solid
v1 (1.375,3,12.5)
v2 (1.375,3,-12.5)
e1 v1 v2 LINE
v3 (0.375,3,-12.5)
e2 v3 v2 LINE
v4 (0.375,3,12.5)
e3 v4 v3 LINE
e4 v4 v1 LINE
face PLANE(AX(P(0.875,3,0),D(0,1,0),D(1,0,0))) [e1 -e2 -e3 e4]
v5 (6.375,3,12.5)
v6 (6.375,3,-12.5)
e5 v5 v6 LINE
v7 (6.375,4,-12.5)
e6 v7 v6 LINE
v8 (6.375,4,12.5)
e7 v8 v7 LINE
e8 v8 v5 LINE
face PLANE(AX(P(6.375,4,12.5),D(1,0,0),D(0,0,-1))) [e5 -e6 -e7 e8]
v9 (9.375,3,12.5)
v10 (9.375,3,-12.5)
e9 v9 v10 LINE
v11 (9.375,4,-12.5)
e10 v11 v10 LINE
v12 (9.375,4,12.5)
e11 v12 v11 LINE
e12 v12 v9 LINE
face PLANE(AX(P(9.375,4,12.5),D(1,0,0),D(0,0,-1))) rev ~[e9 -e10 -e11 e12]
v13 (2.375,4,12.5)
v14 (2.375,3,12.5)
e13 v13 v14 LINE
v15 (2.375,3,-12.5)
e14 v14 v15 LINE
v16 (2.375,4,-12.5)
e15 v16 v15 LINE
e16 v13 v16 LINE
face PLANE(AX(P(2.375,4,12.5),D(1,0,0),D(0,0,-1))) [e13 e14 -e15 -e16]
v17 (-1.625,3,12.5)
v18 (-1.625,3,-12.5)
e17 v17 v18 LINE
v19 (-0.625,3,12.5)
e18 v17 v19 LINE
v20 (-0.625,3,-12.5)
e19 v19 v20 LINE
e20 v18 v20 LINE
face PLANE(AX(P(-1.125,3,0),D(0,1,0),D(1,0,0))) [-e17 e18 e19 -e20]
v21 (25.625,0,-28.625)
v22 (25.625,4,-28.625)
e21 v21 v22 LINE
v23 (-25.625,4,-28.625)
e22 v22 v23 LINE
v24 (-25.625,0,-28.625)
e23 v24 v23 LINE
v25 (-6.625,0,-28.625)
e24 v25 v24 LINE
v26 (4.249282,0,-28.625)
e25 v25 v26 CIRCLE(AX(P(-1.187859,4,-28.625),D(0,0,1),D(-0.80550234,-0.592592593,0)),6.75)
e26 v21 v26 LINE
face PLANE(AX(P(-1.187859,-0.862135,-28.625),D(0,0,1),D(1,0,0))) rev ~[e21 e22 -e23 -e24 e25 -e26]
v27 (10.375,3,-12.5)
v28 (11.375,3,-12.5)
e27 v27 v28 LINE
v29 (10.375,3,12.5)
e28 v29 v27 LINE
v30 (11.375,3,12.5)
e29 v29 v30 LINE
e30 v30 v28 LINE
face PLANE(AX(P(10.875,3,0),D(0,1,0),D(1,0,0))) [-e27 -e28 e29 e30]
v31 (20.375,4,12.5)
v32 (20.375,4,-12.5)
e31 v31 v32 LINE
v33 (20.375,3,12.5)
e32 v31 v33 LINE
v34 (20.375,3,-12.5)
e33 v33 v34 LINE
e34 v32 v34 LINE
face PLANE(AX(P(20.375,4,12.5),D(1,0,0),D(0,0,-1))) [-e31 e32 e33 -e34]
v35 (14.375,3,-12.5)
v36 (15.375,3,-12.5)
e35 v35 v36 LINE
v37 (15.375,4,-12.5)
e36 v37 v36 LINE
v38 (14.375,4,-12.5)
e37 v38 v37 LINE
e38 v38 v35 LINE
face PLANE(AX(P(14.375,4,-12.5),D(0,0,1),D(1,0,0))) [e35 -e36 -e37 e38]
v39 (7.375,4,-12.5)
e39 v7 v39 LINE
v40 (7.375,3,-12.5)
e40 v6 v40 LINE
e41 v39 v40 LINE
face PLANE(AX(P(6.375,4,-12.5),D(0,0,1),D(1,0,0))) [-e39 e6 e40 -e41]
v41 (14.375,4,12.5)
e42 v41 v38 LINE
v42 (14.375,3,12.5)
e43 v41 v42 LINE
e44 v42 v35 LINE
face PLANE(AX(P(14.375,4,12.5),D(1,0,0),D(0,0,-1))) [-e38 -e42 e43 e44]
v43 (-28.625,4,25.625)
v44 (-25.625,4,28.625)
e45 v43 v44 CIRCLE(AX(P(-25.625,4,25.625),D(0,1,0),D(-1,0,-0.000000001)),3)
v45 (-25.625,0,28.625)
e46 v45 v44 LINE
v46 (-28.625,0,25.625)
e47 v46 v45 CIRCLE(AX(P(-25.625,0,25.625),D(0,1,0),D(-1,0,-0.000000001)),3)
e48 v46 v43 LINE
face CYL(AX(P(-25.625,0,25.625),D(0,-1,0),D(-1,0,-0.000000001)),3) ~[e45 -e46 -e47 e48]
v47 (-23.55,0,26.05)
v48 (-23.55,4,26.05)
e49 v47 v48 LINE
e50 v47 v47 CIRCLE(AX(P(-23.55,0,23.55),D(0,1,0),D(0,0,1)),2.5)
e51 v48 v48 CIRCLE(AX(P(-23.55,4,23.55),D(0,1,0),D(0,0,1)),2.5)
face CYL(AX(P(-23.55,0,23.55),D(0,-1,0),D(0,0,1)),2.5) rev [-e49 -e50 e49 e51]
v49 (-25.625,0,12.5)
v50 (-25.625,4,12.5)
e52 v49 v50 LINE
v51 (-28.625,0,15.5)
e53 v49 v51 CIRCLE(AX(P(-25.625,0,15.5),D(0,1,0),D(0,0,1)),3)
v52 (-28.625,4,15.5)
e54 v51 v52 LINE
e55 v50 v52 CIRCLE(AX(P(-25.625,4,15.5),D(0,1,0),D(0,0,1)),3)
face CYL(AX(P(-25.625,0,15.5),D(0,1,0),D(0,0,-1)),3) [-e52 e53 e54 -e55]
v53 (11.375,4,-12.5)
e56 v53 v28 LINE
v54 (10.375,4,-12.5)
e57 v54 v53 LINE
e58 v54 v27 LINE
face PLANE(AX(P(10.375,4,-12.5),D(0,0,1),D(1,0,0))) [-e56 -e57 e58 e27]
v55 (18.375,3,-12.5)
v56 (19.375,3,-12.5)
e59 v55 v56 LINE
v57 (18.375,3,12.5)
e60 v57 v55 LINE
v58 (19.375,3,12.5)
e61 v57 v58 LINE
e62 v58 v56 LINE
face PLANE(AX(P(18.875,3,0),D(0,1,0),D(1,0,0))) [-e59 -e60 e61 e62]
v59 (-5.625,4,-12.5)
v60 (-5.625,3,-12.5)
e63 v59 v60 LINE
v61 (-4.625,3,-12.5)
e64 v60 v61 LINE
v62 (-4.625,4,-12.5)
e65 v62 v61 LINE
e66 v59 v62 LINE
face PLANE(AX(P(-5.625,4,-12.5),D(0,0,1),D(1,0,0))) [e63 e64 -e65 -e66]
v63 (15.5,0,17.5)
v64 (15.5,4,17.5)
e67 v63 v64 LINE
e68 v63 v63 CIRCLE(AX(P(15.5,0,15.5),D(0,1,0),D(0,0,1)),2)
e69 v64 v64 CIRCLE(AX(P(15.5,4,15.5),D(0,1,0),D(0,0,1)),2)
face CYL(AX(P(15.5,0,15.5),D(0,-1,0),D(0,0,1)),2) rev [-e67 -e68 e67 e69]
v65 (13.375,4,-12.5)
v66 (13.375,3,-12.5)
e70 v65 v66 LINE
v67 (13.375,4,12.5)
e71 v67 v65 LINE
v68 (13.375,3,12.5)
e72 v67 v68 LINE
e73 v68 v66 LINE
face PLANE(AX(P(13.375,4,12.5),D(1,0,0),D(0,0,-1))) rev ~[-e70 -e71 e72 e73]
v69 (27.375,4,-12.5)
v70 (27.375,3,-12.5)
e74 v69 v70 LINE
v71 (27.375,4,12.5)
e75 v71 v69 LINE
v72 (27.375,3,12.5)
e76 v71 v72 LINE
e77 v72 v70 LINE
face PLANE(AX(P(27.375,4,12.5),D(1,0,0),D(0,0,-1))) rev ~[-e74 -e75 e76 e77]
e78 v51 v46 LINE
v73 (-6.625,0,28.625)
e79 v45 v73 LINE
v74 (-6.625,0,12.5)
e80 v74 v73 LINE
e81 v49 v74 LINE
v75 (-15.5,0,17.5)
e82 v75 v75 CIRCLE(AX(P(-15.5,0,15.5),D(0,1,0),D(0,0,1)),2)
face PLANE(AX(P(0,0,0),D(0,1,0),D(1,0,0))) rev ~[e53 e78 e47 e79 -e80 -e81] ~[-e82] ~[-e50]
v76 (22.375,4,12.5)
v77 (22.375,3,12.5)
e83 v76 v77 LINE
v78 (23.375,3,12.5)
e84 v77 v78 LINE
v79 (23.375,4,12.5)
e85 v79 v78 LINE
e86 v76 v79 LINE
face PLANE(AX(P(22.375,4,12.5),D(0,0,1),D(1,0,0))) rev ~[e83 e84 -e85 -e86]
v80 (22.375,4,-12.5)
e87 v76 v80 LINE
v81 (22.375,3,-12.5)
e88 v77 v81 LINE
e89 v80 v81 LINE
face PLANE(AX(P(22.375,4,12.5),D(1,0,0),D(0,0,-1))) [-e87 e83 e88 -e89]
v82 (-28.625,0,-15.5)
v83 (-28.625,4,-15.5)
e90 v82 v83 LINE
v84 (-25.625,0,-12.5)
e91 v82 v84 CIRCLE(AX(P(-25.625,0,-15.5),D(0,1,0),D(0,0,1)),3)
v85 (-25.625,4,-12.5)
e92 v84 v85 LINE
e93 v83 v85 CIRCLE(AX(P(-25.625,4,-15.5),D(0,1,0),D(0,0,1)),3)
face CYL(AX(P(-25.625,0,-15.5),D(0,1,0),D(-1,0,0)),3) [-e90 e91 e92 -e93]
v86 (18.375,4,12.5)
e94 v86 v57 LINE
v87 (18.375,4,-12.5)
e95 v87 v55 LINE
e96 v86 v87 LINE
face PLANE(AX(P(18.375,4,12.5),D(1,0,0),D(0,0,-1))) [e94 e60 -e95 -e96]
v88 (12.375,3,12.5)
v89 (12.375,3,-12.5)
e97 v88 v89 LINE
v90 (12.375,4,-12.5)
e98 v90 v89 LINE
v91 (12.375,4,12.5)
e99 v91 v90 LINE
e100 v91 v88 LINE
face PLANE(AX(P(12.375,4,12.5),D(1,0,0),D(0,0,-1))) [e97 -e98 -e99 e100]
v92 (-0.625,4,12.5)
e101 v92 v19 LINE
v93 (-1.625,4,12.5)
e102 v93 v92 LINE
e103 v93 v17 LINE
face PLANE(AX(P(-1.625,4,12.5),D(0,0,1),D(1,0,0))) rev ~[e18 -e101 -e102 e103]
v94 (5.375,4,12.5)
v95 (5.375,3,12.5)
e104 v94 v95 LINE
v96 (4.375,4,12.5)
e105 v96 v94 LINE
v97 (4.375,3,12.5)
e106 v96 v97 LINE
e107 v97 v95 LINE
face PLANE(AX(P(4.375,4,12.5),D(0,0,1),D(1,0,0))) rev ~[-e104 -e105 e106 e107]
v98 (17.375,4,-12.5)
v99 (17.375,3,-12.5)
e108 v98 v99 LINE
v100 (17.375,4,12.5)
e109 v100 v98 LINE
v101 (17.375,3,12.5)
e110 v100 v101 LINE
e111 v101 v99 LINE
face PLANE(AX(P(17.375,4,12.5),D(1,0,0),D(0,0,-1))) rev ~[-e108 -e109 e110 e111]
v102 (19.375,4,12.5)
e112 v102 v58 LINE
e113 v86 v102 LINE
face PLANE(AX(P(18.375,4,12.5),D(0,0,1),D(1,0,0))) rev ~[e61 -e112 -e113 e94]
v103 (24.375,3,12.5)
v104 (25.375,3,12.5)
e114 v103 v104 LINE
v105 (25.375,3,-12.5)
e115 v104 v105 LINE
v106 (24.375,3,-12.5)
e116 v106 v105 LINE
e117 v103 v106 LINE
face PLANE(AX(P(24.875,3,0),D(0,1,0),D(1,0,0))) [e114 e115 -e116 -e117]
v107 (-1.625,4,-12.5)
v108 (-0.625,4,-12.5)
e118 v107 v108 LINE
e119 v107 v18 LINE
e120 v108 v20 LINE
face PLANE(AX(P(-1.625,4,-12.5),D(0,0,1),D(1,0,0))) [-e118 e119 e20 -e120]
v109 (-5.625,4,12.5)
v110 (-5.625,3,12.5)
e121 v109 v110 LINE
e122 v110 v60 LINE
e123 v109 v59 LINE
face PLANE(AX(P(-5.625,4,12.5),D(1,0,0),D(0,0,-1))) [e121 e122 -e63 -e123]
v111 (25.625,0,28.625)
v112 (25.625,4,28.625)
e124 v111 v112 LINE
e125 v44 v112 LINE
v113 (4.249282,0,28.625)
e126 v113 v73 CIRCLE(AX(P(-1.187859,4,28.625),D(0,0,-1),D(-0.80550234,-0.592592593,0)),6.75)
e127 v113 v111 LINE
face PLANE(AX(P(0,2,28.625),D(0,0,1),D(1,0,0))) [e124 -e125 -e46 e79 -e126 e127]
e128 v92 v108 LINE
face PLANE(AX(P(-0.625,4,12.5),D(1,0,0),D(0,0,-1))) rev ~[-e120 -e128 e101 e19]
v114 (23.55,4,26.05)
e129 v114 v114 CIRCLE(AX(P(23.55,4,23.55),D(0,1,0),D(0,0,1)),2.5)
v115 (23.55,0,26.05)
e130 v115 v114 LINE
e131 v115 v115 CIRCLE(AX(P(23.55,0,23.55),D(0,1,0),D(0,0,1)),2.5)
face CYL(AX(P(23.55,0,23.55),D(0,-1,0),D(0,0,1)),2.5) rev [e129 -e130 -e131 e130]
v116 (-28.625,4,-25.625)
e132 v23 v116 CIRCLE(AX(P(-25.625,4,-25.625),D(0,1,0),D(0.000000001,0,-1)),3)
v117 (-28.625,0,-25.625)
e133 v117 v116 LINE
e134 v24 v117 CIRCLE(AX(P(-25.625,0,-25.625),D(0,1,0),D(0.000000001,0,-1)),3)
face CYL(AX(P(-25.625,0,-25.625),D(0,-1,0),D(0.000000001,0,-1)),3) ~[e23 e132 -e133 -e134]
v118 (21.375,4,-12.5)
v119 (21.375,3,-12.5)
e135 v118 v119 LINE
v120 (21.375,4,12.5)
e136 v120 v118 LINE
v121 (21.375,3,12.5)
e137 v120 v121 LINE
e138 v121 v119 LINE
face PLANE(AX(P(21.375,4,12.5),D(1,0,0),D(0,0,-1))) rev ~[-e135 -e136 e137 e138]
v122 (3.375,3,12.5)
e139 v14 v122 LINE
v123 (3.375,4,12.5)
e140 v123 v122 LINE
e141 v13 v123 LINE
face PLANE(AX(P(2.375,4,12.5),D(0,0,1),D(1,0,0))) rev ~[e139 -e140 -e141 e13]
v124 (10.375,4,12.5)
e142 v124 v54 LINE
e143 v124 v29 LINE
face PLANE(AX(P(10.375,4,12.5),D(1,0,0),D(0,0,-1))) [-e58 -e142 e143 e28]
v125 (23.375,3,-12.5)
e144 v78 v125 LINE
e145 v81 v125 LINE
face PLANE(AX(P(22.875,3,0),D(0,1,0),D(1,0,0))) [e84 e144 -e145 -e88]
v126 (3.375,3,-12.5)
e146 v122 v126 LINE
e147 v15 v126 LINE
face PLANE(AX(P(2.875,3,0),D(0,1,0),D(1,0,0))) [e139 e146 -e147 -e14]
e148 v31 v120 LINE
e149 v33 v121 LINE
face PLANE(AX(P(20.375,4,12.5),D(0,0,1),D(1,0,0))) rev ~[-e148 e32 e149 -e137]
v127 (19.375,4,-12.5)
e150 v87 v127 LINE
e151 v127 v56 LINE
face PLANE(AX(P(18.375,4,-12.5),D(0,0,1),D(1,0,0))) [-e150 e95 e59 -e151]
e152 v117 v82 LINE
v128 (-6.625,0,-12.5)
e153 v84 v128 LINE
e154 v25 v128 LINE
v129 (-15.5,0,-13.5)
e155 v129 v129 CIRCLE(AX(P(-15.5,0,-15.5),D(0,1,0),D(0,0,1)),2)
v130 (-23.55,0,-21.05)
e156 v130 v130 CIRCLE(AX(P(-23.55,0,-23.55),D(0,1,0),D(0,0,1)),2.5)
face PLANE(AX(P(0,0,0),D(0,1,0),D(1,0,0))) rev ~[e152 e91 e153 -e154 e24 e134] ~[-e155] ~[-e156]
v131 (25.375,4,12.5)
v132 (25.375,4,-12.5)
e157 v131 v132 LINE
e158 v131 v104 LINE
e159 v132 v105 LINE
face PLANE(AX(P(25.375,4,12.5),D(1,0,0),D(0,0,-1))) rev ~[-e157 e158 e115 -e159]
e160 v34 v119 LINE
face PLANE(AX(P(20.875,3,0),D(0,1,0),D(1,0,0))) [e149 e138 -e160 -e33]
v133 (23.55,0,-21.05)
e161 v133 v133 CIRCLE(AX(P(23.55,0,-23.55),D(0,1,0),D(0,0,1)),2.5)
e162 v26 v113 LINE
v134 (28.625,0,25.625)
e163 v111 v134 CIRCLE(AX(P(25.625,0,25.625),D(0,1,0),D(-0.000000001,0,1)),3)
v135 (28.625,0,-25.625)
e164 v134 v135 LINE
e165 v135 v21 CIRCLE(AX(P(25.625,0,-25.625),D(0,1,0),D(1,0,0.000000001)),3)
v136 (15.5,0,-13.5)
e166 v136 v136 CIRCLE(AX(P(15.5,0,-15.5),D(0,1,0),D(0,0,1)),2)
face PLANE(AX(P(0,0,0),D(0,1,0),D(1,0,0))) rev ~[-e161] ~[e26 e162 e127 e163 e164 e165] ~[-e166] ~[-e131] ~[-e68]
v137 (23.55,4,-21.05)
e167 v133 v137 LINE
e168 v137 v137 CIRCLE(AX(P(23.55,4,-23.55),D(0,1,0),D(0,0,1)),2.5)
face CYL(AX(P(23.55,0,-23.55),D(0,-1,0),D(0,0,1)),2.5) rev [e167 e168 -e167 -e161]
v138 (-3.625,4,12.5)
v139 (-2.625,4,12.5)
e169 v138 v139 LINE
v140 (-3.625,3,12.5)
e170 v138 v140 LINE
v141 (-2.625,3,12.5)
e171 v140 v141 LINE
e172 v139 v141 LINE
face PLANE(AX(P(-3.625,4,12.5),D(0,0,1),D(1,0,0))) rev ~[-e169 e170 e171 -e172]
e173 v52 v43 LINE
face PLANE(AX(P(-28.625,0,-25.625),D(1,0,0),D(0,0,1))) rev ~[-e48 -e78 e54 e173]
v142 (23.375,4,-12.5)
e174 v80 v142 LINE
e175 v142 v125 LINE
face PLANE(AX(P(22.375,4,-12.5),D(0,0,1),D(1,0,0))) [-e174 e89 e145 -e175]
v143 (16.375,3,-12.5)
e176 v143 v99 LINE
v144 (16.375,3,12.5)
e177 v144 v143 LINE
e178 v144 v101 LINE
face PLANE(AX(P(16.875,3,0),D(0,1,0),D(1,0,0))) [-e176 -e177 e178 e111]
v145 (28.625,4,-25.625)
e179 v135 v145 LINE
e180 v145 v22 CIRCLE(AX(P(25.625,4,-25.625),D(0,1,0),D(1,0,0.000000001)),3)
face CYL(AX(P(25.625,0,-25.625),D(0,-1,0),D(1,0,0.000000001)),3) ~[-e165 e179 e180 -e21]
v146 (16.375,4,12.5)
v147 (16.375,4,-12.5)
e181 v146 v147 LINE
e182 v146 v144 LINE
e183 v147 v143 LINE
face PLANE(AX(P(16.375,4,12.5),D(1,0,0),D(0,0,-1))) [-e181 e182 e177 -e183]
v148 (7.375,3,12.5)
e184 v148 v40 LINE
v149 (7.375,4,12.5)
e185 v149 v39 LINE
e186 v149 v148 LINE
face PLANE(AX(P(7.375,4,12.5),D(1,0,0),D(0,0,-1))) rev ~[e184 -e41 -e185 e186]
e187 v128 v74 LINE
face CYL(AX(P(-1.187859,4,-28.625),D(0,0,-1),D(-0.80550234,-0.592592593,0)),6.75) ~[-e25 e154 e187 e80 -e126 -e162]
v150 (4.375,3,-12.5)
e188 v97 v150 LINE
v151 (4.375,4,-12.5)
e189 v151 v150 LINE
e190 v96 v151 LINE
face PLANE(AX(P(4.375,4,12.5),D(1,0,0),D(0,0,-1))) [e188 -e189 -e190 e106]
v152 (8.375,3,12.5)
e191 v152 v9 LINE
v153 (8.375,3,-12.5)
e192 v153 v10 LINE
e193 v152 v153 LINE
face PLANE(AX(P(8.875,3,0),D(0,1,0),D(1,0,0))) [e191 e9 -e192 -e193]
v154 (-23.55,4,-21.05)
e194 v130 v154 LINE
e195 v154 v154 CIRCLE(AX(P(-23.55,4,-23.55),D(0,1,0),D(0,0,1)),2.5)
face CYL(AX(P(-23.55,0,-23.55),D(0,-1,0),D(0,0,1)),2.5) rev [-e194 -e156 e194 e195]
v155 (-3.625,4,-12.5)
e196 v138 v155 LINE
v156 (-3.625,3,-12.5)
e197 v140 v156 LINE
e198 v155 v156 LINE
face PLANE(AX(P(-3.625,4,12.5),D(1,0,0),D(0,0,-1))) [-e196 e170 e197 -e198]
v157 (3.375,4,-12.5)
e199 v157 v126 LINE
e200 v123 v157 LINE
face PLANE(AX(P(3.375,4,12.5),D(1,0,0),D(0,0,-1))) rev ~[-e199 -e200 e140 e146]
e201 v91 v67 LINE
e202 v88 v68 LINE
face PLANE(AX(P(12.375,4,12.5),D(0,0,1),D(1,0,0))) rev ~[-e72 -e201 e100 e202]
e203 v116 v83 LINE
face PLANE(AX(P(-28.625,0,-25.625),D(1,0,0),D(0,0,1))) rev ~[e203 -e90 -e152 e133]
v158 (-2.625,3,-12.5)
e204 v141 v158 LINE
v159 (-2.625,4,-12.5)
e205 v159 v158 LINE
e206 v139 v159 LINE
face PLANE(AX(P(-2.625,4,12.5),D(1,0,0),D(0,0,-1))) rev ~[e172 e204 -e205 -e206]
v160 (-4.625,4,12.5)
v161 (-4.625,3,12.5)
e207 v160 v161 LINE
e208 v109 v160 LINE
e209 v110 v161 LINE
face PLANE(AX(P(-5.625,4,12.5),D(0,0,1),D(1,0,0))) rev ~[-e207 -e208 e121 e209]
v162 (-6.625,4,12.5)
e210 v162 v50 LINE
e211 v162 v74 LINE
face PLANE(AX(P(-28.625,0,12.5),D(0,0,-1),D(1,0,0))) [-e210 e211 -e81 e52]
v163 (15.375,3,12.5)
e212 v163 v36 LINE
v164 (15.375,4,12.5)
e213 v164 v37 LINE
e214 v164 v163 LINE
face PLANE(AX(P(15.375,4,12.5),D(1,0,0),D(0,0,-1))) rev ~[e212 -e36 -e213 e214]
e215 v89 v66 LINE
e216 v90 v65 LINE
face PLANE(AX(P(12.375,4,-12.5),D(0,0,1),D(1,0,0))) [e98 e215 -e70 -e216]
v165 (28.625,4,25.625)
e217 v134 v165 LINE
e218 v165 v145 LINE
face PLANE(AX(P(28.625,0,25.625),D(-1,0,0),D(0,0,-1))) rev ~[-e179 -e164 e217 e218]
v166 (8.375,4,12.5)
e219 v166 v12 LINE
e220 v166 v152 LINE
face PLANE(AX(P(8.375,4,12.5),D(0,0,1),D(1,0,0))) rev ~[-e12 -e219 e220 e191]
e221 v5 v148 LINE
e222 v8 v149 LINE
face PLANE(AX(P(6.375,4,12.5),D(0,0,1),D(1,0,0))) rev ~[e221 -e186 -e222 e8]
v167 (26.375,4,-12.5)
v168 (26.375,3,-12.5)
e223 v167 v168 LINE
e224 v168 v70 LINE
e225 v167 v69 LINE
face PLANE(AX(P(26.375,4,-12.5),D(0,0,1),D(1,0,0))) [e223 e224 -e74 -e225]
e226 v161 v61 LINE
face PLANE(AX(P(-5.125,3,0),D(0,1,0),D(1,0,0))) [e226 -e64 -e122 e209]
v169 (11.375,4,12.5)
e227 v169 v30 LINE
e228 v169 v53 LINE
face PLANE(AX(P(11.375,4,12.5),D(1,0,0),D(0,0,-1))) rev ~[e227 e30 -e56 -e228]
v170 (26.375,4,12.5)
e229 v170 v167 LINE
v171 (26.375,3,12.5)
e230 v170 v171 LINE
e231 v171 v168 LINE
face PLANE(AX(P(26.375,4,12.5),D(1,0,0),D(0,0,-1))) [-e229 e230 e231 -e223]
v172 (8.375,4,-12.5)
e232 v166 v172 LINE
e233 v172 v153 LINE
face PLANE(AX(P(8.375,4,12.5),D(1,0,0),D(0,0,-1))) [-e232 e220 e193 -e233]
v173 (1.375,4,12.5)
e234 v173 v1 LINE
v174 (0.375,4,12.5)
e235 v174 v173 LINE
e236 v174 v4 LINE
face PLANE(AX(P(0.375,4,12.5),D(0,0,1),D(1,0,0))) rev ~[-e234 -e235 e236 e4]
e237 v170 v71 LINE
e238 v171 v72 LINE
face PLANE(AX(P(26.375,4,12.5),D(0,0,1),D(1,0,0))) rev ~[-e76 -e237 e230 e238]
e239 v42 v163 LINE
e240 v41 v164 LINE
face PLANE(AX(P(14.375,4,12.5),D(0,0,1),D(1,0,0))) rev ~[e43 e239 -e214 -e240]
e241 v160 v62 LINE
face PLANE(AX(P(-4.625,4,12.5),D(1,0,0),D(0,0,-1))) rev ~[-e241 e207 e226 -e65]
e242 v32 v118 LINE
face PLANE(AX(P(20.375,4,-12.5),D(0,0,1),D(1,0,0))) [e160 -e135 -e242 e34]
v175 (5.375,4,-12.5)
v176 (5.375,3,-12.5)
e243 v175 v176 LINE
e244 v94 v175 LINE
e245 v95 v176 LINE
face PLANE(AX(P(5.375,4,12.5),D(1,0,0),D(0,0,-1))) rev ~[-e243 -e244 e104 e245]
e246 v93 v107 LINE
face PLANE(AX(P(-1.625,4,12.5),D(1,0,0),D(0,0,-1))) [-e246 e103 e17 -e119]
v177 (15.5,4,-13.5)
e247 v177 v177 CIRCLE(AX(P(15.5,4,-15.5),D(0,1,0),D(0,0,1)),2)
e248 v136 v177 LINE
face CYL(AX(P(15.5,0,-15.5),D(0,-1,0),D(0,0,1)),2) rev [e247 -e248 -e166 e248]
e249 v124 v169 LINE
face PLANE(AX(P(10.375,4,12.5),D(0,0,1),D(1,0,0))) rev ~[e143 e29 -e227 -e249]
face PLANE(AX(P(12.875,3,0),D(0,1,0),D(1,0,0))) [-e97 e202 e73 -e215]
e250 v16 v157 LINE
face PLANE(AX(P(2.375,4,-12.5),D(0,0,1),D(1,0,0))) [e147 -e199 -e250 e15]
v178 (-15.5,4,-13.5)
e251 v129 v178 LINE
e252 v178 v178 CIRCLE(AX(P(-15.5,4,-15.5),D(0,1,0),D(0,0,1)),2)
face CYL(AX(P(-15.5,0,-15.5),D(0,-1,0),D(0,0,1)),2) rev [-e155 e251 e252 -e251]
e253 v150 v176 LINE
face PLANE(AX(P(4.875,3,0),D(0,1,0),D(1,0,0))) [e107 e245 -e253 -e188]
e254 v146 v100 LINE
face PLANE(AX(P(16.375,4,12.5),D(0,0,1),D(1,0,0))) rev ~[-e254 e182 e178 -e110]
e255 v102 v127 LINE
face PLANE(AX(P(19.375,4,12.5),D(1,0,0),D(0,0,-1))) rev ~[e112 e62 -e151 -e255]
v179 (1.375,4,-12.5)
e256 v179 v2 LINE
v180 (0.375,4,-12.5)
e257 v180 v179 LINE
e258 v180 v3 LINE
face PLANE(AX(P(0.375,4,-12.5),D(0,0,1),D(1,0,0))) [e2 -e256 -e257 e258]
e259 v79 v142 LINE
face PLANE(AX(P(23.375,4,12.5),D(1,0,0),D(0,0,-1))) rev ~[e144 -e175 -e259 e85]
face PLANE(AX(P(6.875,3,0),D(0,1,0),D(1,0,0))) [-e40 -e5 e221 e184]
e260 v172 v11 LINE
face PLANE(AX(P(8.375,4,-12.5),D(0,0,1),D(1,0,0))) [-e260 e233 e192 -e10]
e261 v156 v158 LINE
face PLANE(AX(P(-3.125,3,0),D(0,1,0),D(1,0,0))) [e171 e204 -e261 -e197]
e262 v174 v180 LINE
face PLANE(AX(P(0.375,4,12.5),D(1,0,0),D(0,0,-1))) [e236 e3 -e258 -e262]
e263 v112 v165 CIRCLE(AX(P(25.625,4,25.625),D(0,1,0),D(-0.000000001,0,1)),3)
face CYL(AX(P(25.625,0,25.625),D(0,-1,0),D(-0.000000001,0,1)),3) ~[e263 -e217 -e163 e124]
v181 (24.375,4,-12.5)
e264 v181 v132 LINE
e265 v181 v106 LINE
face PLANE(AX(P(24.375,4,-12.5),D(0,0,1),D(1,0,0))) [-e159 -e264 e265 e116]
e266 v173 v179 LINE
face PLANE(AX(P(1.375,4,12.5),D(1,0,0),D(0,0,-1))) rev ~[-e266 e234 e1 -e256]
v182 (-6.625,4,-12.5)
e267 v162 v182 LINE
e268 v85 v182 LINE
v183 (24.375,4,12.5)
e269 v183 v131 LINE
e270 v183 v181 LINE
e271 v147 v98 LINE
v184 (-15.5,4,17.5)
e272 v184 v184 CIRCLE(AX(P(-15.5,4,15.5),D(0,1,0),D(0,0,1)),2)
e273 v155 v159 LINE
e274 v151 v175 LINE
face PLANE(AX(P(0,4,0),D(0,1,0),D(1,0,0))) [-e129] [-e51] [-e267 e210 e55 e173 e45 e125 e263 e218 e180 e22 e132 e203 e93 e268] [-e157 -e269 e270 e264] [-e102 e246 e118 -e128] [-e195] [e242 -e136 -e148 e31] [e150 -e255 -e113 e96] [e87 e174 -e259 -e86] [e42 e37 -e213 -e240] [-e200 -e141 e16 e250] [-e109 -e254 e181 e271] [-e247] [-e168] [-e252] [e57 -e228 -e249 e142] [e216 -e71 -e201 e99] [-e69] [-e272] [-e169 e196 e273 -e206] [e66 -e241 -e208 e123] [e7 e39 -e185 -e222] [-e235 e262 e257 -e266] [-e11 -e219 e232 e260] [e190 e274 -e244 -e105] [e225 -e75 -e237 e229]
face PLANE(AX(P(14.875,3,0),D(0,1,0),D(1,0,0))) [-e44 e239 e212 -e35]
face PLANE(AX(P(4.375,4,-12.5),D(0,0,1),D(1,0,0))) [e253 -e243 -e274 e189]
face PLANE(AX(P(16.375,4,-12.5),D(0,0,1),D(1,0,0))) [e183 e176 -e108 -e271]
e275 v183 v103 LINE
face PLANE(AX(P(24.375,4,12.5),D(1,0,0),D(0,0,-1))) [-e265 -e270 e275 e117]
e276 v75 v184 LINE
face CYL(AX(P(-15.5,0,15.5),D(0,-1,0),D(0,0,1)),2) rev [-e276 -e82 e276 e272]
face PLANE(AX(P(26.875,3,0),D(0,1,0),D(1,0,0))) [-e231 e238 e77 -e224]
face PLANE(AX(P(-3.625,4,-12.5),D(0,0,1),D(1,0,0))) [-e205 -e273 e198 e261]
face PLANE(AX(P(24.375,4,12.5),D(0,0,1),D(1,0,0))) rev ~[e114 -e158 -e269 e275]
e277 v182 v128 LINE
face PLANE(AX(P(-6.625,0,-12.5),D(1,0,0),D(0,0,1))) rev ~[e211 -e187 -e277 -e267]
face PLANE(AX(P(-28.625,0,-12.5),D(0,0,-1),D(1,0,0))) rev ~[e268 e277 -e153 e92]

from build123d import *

# Parameters (mm, degrees)
SKETCH1_R           = 2
SKETCH1_R_2         = 2.5
BOSS_EXTRUDE1_DEPTH = 4
SKETCH2_W           = 1
SKETCH2_H           = 25
CUT_EXTRUDE1_DEPTH  = 1
SKETCH3_W           = 22
SKETCH3_H           = 25
CUT_EXTRUDE2_DEPTH  = 41.679002569
BOSS_EXTRUDE2_REACH = 66.132
FILLET1_R           = 3


with BuildPart() as part:
    # Sketch1 → Boss-Extrude1 (new body)
    with BuildSketch(Plane(origin=(0, 0, 0), x_dir=(1, 0, 0), z_dir=(0, 1, 0))):
        with BuildLine():
            Line((25.625, 28.625), (-25.625, 28.625))
            ThreePointArc((-25.625, 28.625), (-27.746320344, 27.746320344), (-28.625, 25.625))
            Line((-28.625, 25.625), (-28.625, -25.625))
            ThreePointArc((-28.625, -25.625), (-27.746320344, -27.746320344), (-25.625, -28.625))
            Line((-25.625, -28.625), (25.625, -28.625))
            ThreePointArc((25.625, -28.625), (27.746320344, -27.746320344), (28.625, -25.625))
            Line((28.625, -25.625), (28.625, 25.625))
            ThreePointArc((28.625, 25.625), (27.746320344, 27.746320344), (25.625, 28.625))
        make_face()
        with Locations(Location((-15.5, 15.5, 0), (0, 0, 270))):
            Circle(SKETCH1_R, mode=Mode.SUBTRACT)
        with Locations(Location((-23.55, 23.55, 0), (0, 0, 270))):
            Circle(SKETCH1_R_2, mode=Mode.SUBTRACT)
        with Locations(Location((23.55, 23.55, 0), (0, 0, 270))):
            Circle(SKETCH1_R_2, mode=Mode.SUBTRACT)
        with Locations(Location((15.5, 15.5, 0), (0, 0, 270))):
            Circle(SKETCH1_R, mode=Mode.SUBTRACT)
        with Locations(Location((15.5, -15.5, 0), (0, 0, 270))):
            Circle(SKETCH1_R, mode=Mode.SUBTRACT)
        with Locations(Location((-15.5, -15.5, 0), (0, 0, 270))):
            Circle(SKETCH1_R, mode=Mode.SUBTRACT)
        with Locations(Location((-23.55, -23.55, 0), (0, 0, 270))):
            Circle(SKETCH1_R_2, mode=Mode.SUBTRACT)
        with Locations(Location((23.55, -23.55, 0), (0, 0, 270))):
            Circle(SKETCH1_R_2, mode=Mode.SUBTRACT)
    extrude(amount=BOSS_EXTRUDE1_DEPTH)

    # Sketch2 → Cut-Extrude1 (cut)
    with BuildSketch(Plane(origin=(0, 4, 0), x_dir=(1, 0, 0), z_dir=(0, 1, 0))):
        with Locations((-27.125, 0)):
            Rectangle(SKETCH2_W, SKETCH2_H)
        with Locations((-25.125, 0)):
            Rectangle(SKETCH2_W, SKETCH2_H)
        with Locations((-23.125, 0)):
            Rectangle(SKETCH2_W, SKETCH2_H)
        with Locations((-21.125, 0)):
            Rectangle(SKETCH2_W, SKETCH2_H)
        with Locations((-19.125, 0)):
            Rectangle(SKETCH2_W, SKETCH2_H)
        with Locations((-17.125, 0)):
            Rectangle(SKETCH2_W, SKETCH2_H)
        with Locations((-15.125, 0)):
            Rectangle(SKETCH2_W, SKETCH2_H)
        with Locations((-13.125, 0)):
            Rectangle(SKETCH2_W, SKETCH2_H)
        with Locations((-11.125, 0)):
            Rectangle(SKETCH2_W, SKETCH2_H)
        with Locations((-9.125, 0)):
            Rectangle(SKETCH2_W, SKETCH2_H)
        with Locations((-7.125, 0)):
            Rectangle(SKETCH2_W, SKETCH2_H)
        with Locations((-5.125, 0)):
            Rectangle(SKETCH2_W, SKETCH2_H)
        with Locations((-3.125, 0)):
            Rectangle(SKETCH2_W, SKETCH2_H)
        with Locations((-1.125, 0)):
            Rectangle(SKETCH2_W, SKETCH2_H)
        with Locations((0.875, 0)):
            Rectangle(SKETCH2_W, SKETCH2_H)
        with Locations((2.875, 0)):
            Rectangle(SKETCH2_W, SKETCH2_H)
        with Locations((4.875, 0)):
            Rectangle(SKETCH2_W, SKETCH2_H)
        with Locations((6.875, 0)):
            Rectangle(SKETCH2_W, SKETCH2_H)
        with Locations((8.875, 0)):
            Rectangle(SKETCH2_W, SKETCH2_H)
        with Locations((10.875, 0)):
            Rectangle(SKETCH2_W, SKETCH2_H)
        with Locations((12.875, 0)):
            Rectangle(SKETCH2_W, SKETCH2_H)
        with Locations((14.875, 0)):
            Rectangle(SKETCH2_W, SKETCH2_H)
        with Locations((16.875, 0)):
            Rectangle(SKETCH2_W, SKETCH2_H)
        with Locations((18.875, 0)):
            Rectangle(SKETCH2_W, SKETCH2_H)
        with Locations((20.875, 0)):
            Rectangle(SKETCH2_W, SKETCH2_H)
        with Locations((22.875, 0)):
            Rectangle(SKETCH2_W, SKETCH2_H)
        with Locations((24.875, 0)):
            Rectangle(SKETCH2_W, SKETCH2_H)
        with Locations((26.875, 0)):
            Rectangle(SKETCH2_W, SKETCH2_H)
    extrude(amount=-CUT_EXTRUDE1_DEPTH, mode=Mode.SUBTRACT)

    # Sketch3 → Cut-Extrude2 (cut, through all)
    with BuildSketch(Plane.XZ):
        with Locations((-17.625, 0)):
            Rectangle(SKETCH3_W, SKETCH3_H)
    extrude(amount=-CUT_EXTRUDE2_DEPTH, mode=Mode.SUBTRACT)

    # Boss-Extrude2: up to this face of the body (flat: up to its plane)
    boss_extrude2_end = Plane(part.part.faces().sort_by_distance((0, 2, 28.625))[0])
    # Sketch4 → Boss-Extrude2 (add, up to the picked face)
    with BuildSketch(Plane(origin=(0, 0, -28.625), x_dir=(-1, 0, 0), z_dir=(0, 0, -1)), mode=Mode.PRIVATE) as boss_extrude2_sk1:
        with BuildLine():
            Line((-4.249281585, 0), (6.625, 0))
            ThreePointArc((6.625, 0), (1.187859207, -2.75), (-4.249281585, 0))
        make_face()
    boss_extrude2_tool1 = split(extrude(boss_extrude2_sk1.sketch, amount=-BOSS_EXTRUDE2_REACH, mode=Mode.PRIVATE), bisect_by=boss_extrude2_end, keep=Keep.BOTH, mode=Mode.PRIVATE)
    add(boss_extrude2_tool1.solids().sort_by(Axis((-1.187859, -1.121798, -28.625), (0, 0, 1)))[0])

    # Fillet1
    fillet1_edges = [part.edges().sort_by_distance(p)[0] for p in [
        (-28.625, 2, 12.5),
        (-28.625, 2, -12.5),
    ]]
    fillet(fillet1_edges, radius=FILLET1_R)


solid = part.part
